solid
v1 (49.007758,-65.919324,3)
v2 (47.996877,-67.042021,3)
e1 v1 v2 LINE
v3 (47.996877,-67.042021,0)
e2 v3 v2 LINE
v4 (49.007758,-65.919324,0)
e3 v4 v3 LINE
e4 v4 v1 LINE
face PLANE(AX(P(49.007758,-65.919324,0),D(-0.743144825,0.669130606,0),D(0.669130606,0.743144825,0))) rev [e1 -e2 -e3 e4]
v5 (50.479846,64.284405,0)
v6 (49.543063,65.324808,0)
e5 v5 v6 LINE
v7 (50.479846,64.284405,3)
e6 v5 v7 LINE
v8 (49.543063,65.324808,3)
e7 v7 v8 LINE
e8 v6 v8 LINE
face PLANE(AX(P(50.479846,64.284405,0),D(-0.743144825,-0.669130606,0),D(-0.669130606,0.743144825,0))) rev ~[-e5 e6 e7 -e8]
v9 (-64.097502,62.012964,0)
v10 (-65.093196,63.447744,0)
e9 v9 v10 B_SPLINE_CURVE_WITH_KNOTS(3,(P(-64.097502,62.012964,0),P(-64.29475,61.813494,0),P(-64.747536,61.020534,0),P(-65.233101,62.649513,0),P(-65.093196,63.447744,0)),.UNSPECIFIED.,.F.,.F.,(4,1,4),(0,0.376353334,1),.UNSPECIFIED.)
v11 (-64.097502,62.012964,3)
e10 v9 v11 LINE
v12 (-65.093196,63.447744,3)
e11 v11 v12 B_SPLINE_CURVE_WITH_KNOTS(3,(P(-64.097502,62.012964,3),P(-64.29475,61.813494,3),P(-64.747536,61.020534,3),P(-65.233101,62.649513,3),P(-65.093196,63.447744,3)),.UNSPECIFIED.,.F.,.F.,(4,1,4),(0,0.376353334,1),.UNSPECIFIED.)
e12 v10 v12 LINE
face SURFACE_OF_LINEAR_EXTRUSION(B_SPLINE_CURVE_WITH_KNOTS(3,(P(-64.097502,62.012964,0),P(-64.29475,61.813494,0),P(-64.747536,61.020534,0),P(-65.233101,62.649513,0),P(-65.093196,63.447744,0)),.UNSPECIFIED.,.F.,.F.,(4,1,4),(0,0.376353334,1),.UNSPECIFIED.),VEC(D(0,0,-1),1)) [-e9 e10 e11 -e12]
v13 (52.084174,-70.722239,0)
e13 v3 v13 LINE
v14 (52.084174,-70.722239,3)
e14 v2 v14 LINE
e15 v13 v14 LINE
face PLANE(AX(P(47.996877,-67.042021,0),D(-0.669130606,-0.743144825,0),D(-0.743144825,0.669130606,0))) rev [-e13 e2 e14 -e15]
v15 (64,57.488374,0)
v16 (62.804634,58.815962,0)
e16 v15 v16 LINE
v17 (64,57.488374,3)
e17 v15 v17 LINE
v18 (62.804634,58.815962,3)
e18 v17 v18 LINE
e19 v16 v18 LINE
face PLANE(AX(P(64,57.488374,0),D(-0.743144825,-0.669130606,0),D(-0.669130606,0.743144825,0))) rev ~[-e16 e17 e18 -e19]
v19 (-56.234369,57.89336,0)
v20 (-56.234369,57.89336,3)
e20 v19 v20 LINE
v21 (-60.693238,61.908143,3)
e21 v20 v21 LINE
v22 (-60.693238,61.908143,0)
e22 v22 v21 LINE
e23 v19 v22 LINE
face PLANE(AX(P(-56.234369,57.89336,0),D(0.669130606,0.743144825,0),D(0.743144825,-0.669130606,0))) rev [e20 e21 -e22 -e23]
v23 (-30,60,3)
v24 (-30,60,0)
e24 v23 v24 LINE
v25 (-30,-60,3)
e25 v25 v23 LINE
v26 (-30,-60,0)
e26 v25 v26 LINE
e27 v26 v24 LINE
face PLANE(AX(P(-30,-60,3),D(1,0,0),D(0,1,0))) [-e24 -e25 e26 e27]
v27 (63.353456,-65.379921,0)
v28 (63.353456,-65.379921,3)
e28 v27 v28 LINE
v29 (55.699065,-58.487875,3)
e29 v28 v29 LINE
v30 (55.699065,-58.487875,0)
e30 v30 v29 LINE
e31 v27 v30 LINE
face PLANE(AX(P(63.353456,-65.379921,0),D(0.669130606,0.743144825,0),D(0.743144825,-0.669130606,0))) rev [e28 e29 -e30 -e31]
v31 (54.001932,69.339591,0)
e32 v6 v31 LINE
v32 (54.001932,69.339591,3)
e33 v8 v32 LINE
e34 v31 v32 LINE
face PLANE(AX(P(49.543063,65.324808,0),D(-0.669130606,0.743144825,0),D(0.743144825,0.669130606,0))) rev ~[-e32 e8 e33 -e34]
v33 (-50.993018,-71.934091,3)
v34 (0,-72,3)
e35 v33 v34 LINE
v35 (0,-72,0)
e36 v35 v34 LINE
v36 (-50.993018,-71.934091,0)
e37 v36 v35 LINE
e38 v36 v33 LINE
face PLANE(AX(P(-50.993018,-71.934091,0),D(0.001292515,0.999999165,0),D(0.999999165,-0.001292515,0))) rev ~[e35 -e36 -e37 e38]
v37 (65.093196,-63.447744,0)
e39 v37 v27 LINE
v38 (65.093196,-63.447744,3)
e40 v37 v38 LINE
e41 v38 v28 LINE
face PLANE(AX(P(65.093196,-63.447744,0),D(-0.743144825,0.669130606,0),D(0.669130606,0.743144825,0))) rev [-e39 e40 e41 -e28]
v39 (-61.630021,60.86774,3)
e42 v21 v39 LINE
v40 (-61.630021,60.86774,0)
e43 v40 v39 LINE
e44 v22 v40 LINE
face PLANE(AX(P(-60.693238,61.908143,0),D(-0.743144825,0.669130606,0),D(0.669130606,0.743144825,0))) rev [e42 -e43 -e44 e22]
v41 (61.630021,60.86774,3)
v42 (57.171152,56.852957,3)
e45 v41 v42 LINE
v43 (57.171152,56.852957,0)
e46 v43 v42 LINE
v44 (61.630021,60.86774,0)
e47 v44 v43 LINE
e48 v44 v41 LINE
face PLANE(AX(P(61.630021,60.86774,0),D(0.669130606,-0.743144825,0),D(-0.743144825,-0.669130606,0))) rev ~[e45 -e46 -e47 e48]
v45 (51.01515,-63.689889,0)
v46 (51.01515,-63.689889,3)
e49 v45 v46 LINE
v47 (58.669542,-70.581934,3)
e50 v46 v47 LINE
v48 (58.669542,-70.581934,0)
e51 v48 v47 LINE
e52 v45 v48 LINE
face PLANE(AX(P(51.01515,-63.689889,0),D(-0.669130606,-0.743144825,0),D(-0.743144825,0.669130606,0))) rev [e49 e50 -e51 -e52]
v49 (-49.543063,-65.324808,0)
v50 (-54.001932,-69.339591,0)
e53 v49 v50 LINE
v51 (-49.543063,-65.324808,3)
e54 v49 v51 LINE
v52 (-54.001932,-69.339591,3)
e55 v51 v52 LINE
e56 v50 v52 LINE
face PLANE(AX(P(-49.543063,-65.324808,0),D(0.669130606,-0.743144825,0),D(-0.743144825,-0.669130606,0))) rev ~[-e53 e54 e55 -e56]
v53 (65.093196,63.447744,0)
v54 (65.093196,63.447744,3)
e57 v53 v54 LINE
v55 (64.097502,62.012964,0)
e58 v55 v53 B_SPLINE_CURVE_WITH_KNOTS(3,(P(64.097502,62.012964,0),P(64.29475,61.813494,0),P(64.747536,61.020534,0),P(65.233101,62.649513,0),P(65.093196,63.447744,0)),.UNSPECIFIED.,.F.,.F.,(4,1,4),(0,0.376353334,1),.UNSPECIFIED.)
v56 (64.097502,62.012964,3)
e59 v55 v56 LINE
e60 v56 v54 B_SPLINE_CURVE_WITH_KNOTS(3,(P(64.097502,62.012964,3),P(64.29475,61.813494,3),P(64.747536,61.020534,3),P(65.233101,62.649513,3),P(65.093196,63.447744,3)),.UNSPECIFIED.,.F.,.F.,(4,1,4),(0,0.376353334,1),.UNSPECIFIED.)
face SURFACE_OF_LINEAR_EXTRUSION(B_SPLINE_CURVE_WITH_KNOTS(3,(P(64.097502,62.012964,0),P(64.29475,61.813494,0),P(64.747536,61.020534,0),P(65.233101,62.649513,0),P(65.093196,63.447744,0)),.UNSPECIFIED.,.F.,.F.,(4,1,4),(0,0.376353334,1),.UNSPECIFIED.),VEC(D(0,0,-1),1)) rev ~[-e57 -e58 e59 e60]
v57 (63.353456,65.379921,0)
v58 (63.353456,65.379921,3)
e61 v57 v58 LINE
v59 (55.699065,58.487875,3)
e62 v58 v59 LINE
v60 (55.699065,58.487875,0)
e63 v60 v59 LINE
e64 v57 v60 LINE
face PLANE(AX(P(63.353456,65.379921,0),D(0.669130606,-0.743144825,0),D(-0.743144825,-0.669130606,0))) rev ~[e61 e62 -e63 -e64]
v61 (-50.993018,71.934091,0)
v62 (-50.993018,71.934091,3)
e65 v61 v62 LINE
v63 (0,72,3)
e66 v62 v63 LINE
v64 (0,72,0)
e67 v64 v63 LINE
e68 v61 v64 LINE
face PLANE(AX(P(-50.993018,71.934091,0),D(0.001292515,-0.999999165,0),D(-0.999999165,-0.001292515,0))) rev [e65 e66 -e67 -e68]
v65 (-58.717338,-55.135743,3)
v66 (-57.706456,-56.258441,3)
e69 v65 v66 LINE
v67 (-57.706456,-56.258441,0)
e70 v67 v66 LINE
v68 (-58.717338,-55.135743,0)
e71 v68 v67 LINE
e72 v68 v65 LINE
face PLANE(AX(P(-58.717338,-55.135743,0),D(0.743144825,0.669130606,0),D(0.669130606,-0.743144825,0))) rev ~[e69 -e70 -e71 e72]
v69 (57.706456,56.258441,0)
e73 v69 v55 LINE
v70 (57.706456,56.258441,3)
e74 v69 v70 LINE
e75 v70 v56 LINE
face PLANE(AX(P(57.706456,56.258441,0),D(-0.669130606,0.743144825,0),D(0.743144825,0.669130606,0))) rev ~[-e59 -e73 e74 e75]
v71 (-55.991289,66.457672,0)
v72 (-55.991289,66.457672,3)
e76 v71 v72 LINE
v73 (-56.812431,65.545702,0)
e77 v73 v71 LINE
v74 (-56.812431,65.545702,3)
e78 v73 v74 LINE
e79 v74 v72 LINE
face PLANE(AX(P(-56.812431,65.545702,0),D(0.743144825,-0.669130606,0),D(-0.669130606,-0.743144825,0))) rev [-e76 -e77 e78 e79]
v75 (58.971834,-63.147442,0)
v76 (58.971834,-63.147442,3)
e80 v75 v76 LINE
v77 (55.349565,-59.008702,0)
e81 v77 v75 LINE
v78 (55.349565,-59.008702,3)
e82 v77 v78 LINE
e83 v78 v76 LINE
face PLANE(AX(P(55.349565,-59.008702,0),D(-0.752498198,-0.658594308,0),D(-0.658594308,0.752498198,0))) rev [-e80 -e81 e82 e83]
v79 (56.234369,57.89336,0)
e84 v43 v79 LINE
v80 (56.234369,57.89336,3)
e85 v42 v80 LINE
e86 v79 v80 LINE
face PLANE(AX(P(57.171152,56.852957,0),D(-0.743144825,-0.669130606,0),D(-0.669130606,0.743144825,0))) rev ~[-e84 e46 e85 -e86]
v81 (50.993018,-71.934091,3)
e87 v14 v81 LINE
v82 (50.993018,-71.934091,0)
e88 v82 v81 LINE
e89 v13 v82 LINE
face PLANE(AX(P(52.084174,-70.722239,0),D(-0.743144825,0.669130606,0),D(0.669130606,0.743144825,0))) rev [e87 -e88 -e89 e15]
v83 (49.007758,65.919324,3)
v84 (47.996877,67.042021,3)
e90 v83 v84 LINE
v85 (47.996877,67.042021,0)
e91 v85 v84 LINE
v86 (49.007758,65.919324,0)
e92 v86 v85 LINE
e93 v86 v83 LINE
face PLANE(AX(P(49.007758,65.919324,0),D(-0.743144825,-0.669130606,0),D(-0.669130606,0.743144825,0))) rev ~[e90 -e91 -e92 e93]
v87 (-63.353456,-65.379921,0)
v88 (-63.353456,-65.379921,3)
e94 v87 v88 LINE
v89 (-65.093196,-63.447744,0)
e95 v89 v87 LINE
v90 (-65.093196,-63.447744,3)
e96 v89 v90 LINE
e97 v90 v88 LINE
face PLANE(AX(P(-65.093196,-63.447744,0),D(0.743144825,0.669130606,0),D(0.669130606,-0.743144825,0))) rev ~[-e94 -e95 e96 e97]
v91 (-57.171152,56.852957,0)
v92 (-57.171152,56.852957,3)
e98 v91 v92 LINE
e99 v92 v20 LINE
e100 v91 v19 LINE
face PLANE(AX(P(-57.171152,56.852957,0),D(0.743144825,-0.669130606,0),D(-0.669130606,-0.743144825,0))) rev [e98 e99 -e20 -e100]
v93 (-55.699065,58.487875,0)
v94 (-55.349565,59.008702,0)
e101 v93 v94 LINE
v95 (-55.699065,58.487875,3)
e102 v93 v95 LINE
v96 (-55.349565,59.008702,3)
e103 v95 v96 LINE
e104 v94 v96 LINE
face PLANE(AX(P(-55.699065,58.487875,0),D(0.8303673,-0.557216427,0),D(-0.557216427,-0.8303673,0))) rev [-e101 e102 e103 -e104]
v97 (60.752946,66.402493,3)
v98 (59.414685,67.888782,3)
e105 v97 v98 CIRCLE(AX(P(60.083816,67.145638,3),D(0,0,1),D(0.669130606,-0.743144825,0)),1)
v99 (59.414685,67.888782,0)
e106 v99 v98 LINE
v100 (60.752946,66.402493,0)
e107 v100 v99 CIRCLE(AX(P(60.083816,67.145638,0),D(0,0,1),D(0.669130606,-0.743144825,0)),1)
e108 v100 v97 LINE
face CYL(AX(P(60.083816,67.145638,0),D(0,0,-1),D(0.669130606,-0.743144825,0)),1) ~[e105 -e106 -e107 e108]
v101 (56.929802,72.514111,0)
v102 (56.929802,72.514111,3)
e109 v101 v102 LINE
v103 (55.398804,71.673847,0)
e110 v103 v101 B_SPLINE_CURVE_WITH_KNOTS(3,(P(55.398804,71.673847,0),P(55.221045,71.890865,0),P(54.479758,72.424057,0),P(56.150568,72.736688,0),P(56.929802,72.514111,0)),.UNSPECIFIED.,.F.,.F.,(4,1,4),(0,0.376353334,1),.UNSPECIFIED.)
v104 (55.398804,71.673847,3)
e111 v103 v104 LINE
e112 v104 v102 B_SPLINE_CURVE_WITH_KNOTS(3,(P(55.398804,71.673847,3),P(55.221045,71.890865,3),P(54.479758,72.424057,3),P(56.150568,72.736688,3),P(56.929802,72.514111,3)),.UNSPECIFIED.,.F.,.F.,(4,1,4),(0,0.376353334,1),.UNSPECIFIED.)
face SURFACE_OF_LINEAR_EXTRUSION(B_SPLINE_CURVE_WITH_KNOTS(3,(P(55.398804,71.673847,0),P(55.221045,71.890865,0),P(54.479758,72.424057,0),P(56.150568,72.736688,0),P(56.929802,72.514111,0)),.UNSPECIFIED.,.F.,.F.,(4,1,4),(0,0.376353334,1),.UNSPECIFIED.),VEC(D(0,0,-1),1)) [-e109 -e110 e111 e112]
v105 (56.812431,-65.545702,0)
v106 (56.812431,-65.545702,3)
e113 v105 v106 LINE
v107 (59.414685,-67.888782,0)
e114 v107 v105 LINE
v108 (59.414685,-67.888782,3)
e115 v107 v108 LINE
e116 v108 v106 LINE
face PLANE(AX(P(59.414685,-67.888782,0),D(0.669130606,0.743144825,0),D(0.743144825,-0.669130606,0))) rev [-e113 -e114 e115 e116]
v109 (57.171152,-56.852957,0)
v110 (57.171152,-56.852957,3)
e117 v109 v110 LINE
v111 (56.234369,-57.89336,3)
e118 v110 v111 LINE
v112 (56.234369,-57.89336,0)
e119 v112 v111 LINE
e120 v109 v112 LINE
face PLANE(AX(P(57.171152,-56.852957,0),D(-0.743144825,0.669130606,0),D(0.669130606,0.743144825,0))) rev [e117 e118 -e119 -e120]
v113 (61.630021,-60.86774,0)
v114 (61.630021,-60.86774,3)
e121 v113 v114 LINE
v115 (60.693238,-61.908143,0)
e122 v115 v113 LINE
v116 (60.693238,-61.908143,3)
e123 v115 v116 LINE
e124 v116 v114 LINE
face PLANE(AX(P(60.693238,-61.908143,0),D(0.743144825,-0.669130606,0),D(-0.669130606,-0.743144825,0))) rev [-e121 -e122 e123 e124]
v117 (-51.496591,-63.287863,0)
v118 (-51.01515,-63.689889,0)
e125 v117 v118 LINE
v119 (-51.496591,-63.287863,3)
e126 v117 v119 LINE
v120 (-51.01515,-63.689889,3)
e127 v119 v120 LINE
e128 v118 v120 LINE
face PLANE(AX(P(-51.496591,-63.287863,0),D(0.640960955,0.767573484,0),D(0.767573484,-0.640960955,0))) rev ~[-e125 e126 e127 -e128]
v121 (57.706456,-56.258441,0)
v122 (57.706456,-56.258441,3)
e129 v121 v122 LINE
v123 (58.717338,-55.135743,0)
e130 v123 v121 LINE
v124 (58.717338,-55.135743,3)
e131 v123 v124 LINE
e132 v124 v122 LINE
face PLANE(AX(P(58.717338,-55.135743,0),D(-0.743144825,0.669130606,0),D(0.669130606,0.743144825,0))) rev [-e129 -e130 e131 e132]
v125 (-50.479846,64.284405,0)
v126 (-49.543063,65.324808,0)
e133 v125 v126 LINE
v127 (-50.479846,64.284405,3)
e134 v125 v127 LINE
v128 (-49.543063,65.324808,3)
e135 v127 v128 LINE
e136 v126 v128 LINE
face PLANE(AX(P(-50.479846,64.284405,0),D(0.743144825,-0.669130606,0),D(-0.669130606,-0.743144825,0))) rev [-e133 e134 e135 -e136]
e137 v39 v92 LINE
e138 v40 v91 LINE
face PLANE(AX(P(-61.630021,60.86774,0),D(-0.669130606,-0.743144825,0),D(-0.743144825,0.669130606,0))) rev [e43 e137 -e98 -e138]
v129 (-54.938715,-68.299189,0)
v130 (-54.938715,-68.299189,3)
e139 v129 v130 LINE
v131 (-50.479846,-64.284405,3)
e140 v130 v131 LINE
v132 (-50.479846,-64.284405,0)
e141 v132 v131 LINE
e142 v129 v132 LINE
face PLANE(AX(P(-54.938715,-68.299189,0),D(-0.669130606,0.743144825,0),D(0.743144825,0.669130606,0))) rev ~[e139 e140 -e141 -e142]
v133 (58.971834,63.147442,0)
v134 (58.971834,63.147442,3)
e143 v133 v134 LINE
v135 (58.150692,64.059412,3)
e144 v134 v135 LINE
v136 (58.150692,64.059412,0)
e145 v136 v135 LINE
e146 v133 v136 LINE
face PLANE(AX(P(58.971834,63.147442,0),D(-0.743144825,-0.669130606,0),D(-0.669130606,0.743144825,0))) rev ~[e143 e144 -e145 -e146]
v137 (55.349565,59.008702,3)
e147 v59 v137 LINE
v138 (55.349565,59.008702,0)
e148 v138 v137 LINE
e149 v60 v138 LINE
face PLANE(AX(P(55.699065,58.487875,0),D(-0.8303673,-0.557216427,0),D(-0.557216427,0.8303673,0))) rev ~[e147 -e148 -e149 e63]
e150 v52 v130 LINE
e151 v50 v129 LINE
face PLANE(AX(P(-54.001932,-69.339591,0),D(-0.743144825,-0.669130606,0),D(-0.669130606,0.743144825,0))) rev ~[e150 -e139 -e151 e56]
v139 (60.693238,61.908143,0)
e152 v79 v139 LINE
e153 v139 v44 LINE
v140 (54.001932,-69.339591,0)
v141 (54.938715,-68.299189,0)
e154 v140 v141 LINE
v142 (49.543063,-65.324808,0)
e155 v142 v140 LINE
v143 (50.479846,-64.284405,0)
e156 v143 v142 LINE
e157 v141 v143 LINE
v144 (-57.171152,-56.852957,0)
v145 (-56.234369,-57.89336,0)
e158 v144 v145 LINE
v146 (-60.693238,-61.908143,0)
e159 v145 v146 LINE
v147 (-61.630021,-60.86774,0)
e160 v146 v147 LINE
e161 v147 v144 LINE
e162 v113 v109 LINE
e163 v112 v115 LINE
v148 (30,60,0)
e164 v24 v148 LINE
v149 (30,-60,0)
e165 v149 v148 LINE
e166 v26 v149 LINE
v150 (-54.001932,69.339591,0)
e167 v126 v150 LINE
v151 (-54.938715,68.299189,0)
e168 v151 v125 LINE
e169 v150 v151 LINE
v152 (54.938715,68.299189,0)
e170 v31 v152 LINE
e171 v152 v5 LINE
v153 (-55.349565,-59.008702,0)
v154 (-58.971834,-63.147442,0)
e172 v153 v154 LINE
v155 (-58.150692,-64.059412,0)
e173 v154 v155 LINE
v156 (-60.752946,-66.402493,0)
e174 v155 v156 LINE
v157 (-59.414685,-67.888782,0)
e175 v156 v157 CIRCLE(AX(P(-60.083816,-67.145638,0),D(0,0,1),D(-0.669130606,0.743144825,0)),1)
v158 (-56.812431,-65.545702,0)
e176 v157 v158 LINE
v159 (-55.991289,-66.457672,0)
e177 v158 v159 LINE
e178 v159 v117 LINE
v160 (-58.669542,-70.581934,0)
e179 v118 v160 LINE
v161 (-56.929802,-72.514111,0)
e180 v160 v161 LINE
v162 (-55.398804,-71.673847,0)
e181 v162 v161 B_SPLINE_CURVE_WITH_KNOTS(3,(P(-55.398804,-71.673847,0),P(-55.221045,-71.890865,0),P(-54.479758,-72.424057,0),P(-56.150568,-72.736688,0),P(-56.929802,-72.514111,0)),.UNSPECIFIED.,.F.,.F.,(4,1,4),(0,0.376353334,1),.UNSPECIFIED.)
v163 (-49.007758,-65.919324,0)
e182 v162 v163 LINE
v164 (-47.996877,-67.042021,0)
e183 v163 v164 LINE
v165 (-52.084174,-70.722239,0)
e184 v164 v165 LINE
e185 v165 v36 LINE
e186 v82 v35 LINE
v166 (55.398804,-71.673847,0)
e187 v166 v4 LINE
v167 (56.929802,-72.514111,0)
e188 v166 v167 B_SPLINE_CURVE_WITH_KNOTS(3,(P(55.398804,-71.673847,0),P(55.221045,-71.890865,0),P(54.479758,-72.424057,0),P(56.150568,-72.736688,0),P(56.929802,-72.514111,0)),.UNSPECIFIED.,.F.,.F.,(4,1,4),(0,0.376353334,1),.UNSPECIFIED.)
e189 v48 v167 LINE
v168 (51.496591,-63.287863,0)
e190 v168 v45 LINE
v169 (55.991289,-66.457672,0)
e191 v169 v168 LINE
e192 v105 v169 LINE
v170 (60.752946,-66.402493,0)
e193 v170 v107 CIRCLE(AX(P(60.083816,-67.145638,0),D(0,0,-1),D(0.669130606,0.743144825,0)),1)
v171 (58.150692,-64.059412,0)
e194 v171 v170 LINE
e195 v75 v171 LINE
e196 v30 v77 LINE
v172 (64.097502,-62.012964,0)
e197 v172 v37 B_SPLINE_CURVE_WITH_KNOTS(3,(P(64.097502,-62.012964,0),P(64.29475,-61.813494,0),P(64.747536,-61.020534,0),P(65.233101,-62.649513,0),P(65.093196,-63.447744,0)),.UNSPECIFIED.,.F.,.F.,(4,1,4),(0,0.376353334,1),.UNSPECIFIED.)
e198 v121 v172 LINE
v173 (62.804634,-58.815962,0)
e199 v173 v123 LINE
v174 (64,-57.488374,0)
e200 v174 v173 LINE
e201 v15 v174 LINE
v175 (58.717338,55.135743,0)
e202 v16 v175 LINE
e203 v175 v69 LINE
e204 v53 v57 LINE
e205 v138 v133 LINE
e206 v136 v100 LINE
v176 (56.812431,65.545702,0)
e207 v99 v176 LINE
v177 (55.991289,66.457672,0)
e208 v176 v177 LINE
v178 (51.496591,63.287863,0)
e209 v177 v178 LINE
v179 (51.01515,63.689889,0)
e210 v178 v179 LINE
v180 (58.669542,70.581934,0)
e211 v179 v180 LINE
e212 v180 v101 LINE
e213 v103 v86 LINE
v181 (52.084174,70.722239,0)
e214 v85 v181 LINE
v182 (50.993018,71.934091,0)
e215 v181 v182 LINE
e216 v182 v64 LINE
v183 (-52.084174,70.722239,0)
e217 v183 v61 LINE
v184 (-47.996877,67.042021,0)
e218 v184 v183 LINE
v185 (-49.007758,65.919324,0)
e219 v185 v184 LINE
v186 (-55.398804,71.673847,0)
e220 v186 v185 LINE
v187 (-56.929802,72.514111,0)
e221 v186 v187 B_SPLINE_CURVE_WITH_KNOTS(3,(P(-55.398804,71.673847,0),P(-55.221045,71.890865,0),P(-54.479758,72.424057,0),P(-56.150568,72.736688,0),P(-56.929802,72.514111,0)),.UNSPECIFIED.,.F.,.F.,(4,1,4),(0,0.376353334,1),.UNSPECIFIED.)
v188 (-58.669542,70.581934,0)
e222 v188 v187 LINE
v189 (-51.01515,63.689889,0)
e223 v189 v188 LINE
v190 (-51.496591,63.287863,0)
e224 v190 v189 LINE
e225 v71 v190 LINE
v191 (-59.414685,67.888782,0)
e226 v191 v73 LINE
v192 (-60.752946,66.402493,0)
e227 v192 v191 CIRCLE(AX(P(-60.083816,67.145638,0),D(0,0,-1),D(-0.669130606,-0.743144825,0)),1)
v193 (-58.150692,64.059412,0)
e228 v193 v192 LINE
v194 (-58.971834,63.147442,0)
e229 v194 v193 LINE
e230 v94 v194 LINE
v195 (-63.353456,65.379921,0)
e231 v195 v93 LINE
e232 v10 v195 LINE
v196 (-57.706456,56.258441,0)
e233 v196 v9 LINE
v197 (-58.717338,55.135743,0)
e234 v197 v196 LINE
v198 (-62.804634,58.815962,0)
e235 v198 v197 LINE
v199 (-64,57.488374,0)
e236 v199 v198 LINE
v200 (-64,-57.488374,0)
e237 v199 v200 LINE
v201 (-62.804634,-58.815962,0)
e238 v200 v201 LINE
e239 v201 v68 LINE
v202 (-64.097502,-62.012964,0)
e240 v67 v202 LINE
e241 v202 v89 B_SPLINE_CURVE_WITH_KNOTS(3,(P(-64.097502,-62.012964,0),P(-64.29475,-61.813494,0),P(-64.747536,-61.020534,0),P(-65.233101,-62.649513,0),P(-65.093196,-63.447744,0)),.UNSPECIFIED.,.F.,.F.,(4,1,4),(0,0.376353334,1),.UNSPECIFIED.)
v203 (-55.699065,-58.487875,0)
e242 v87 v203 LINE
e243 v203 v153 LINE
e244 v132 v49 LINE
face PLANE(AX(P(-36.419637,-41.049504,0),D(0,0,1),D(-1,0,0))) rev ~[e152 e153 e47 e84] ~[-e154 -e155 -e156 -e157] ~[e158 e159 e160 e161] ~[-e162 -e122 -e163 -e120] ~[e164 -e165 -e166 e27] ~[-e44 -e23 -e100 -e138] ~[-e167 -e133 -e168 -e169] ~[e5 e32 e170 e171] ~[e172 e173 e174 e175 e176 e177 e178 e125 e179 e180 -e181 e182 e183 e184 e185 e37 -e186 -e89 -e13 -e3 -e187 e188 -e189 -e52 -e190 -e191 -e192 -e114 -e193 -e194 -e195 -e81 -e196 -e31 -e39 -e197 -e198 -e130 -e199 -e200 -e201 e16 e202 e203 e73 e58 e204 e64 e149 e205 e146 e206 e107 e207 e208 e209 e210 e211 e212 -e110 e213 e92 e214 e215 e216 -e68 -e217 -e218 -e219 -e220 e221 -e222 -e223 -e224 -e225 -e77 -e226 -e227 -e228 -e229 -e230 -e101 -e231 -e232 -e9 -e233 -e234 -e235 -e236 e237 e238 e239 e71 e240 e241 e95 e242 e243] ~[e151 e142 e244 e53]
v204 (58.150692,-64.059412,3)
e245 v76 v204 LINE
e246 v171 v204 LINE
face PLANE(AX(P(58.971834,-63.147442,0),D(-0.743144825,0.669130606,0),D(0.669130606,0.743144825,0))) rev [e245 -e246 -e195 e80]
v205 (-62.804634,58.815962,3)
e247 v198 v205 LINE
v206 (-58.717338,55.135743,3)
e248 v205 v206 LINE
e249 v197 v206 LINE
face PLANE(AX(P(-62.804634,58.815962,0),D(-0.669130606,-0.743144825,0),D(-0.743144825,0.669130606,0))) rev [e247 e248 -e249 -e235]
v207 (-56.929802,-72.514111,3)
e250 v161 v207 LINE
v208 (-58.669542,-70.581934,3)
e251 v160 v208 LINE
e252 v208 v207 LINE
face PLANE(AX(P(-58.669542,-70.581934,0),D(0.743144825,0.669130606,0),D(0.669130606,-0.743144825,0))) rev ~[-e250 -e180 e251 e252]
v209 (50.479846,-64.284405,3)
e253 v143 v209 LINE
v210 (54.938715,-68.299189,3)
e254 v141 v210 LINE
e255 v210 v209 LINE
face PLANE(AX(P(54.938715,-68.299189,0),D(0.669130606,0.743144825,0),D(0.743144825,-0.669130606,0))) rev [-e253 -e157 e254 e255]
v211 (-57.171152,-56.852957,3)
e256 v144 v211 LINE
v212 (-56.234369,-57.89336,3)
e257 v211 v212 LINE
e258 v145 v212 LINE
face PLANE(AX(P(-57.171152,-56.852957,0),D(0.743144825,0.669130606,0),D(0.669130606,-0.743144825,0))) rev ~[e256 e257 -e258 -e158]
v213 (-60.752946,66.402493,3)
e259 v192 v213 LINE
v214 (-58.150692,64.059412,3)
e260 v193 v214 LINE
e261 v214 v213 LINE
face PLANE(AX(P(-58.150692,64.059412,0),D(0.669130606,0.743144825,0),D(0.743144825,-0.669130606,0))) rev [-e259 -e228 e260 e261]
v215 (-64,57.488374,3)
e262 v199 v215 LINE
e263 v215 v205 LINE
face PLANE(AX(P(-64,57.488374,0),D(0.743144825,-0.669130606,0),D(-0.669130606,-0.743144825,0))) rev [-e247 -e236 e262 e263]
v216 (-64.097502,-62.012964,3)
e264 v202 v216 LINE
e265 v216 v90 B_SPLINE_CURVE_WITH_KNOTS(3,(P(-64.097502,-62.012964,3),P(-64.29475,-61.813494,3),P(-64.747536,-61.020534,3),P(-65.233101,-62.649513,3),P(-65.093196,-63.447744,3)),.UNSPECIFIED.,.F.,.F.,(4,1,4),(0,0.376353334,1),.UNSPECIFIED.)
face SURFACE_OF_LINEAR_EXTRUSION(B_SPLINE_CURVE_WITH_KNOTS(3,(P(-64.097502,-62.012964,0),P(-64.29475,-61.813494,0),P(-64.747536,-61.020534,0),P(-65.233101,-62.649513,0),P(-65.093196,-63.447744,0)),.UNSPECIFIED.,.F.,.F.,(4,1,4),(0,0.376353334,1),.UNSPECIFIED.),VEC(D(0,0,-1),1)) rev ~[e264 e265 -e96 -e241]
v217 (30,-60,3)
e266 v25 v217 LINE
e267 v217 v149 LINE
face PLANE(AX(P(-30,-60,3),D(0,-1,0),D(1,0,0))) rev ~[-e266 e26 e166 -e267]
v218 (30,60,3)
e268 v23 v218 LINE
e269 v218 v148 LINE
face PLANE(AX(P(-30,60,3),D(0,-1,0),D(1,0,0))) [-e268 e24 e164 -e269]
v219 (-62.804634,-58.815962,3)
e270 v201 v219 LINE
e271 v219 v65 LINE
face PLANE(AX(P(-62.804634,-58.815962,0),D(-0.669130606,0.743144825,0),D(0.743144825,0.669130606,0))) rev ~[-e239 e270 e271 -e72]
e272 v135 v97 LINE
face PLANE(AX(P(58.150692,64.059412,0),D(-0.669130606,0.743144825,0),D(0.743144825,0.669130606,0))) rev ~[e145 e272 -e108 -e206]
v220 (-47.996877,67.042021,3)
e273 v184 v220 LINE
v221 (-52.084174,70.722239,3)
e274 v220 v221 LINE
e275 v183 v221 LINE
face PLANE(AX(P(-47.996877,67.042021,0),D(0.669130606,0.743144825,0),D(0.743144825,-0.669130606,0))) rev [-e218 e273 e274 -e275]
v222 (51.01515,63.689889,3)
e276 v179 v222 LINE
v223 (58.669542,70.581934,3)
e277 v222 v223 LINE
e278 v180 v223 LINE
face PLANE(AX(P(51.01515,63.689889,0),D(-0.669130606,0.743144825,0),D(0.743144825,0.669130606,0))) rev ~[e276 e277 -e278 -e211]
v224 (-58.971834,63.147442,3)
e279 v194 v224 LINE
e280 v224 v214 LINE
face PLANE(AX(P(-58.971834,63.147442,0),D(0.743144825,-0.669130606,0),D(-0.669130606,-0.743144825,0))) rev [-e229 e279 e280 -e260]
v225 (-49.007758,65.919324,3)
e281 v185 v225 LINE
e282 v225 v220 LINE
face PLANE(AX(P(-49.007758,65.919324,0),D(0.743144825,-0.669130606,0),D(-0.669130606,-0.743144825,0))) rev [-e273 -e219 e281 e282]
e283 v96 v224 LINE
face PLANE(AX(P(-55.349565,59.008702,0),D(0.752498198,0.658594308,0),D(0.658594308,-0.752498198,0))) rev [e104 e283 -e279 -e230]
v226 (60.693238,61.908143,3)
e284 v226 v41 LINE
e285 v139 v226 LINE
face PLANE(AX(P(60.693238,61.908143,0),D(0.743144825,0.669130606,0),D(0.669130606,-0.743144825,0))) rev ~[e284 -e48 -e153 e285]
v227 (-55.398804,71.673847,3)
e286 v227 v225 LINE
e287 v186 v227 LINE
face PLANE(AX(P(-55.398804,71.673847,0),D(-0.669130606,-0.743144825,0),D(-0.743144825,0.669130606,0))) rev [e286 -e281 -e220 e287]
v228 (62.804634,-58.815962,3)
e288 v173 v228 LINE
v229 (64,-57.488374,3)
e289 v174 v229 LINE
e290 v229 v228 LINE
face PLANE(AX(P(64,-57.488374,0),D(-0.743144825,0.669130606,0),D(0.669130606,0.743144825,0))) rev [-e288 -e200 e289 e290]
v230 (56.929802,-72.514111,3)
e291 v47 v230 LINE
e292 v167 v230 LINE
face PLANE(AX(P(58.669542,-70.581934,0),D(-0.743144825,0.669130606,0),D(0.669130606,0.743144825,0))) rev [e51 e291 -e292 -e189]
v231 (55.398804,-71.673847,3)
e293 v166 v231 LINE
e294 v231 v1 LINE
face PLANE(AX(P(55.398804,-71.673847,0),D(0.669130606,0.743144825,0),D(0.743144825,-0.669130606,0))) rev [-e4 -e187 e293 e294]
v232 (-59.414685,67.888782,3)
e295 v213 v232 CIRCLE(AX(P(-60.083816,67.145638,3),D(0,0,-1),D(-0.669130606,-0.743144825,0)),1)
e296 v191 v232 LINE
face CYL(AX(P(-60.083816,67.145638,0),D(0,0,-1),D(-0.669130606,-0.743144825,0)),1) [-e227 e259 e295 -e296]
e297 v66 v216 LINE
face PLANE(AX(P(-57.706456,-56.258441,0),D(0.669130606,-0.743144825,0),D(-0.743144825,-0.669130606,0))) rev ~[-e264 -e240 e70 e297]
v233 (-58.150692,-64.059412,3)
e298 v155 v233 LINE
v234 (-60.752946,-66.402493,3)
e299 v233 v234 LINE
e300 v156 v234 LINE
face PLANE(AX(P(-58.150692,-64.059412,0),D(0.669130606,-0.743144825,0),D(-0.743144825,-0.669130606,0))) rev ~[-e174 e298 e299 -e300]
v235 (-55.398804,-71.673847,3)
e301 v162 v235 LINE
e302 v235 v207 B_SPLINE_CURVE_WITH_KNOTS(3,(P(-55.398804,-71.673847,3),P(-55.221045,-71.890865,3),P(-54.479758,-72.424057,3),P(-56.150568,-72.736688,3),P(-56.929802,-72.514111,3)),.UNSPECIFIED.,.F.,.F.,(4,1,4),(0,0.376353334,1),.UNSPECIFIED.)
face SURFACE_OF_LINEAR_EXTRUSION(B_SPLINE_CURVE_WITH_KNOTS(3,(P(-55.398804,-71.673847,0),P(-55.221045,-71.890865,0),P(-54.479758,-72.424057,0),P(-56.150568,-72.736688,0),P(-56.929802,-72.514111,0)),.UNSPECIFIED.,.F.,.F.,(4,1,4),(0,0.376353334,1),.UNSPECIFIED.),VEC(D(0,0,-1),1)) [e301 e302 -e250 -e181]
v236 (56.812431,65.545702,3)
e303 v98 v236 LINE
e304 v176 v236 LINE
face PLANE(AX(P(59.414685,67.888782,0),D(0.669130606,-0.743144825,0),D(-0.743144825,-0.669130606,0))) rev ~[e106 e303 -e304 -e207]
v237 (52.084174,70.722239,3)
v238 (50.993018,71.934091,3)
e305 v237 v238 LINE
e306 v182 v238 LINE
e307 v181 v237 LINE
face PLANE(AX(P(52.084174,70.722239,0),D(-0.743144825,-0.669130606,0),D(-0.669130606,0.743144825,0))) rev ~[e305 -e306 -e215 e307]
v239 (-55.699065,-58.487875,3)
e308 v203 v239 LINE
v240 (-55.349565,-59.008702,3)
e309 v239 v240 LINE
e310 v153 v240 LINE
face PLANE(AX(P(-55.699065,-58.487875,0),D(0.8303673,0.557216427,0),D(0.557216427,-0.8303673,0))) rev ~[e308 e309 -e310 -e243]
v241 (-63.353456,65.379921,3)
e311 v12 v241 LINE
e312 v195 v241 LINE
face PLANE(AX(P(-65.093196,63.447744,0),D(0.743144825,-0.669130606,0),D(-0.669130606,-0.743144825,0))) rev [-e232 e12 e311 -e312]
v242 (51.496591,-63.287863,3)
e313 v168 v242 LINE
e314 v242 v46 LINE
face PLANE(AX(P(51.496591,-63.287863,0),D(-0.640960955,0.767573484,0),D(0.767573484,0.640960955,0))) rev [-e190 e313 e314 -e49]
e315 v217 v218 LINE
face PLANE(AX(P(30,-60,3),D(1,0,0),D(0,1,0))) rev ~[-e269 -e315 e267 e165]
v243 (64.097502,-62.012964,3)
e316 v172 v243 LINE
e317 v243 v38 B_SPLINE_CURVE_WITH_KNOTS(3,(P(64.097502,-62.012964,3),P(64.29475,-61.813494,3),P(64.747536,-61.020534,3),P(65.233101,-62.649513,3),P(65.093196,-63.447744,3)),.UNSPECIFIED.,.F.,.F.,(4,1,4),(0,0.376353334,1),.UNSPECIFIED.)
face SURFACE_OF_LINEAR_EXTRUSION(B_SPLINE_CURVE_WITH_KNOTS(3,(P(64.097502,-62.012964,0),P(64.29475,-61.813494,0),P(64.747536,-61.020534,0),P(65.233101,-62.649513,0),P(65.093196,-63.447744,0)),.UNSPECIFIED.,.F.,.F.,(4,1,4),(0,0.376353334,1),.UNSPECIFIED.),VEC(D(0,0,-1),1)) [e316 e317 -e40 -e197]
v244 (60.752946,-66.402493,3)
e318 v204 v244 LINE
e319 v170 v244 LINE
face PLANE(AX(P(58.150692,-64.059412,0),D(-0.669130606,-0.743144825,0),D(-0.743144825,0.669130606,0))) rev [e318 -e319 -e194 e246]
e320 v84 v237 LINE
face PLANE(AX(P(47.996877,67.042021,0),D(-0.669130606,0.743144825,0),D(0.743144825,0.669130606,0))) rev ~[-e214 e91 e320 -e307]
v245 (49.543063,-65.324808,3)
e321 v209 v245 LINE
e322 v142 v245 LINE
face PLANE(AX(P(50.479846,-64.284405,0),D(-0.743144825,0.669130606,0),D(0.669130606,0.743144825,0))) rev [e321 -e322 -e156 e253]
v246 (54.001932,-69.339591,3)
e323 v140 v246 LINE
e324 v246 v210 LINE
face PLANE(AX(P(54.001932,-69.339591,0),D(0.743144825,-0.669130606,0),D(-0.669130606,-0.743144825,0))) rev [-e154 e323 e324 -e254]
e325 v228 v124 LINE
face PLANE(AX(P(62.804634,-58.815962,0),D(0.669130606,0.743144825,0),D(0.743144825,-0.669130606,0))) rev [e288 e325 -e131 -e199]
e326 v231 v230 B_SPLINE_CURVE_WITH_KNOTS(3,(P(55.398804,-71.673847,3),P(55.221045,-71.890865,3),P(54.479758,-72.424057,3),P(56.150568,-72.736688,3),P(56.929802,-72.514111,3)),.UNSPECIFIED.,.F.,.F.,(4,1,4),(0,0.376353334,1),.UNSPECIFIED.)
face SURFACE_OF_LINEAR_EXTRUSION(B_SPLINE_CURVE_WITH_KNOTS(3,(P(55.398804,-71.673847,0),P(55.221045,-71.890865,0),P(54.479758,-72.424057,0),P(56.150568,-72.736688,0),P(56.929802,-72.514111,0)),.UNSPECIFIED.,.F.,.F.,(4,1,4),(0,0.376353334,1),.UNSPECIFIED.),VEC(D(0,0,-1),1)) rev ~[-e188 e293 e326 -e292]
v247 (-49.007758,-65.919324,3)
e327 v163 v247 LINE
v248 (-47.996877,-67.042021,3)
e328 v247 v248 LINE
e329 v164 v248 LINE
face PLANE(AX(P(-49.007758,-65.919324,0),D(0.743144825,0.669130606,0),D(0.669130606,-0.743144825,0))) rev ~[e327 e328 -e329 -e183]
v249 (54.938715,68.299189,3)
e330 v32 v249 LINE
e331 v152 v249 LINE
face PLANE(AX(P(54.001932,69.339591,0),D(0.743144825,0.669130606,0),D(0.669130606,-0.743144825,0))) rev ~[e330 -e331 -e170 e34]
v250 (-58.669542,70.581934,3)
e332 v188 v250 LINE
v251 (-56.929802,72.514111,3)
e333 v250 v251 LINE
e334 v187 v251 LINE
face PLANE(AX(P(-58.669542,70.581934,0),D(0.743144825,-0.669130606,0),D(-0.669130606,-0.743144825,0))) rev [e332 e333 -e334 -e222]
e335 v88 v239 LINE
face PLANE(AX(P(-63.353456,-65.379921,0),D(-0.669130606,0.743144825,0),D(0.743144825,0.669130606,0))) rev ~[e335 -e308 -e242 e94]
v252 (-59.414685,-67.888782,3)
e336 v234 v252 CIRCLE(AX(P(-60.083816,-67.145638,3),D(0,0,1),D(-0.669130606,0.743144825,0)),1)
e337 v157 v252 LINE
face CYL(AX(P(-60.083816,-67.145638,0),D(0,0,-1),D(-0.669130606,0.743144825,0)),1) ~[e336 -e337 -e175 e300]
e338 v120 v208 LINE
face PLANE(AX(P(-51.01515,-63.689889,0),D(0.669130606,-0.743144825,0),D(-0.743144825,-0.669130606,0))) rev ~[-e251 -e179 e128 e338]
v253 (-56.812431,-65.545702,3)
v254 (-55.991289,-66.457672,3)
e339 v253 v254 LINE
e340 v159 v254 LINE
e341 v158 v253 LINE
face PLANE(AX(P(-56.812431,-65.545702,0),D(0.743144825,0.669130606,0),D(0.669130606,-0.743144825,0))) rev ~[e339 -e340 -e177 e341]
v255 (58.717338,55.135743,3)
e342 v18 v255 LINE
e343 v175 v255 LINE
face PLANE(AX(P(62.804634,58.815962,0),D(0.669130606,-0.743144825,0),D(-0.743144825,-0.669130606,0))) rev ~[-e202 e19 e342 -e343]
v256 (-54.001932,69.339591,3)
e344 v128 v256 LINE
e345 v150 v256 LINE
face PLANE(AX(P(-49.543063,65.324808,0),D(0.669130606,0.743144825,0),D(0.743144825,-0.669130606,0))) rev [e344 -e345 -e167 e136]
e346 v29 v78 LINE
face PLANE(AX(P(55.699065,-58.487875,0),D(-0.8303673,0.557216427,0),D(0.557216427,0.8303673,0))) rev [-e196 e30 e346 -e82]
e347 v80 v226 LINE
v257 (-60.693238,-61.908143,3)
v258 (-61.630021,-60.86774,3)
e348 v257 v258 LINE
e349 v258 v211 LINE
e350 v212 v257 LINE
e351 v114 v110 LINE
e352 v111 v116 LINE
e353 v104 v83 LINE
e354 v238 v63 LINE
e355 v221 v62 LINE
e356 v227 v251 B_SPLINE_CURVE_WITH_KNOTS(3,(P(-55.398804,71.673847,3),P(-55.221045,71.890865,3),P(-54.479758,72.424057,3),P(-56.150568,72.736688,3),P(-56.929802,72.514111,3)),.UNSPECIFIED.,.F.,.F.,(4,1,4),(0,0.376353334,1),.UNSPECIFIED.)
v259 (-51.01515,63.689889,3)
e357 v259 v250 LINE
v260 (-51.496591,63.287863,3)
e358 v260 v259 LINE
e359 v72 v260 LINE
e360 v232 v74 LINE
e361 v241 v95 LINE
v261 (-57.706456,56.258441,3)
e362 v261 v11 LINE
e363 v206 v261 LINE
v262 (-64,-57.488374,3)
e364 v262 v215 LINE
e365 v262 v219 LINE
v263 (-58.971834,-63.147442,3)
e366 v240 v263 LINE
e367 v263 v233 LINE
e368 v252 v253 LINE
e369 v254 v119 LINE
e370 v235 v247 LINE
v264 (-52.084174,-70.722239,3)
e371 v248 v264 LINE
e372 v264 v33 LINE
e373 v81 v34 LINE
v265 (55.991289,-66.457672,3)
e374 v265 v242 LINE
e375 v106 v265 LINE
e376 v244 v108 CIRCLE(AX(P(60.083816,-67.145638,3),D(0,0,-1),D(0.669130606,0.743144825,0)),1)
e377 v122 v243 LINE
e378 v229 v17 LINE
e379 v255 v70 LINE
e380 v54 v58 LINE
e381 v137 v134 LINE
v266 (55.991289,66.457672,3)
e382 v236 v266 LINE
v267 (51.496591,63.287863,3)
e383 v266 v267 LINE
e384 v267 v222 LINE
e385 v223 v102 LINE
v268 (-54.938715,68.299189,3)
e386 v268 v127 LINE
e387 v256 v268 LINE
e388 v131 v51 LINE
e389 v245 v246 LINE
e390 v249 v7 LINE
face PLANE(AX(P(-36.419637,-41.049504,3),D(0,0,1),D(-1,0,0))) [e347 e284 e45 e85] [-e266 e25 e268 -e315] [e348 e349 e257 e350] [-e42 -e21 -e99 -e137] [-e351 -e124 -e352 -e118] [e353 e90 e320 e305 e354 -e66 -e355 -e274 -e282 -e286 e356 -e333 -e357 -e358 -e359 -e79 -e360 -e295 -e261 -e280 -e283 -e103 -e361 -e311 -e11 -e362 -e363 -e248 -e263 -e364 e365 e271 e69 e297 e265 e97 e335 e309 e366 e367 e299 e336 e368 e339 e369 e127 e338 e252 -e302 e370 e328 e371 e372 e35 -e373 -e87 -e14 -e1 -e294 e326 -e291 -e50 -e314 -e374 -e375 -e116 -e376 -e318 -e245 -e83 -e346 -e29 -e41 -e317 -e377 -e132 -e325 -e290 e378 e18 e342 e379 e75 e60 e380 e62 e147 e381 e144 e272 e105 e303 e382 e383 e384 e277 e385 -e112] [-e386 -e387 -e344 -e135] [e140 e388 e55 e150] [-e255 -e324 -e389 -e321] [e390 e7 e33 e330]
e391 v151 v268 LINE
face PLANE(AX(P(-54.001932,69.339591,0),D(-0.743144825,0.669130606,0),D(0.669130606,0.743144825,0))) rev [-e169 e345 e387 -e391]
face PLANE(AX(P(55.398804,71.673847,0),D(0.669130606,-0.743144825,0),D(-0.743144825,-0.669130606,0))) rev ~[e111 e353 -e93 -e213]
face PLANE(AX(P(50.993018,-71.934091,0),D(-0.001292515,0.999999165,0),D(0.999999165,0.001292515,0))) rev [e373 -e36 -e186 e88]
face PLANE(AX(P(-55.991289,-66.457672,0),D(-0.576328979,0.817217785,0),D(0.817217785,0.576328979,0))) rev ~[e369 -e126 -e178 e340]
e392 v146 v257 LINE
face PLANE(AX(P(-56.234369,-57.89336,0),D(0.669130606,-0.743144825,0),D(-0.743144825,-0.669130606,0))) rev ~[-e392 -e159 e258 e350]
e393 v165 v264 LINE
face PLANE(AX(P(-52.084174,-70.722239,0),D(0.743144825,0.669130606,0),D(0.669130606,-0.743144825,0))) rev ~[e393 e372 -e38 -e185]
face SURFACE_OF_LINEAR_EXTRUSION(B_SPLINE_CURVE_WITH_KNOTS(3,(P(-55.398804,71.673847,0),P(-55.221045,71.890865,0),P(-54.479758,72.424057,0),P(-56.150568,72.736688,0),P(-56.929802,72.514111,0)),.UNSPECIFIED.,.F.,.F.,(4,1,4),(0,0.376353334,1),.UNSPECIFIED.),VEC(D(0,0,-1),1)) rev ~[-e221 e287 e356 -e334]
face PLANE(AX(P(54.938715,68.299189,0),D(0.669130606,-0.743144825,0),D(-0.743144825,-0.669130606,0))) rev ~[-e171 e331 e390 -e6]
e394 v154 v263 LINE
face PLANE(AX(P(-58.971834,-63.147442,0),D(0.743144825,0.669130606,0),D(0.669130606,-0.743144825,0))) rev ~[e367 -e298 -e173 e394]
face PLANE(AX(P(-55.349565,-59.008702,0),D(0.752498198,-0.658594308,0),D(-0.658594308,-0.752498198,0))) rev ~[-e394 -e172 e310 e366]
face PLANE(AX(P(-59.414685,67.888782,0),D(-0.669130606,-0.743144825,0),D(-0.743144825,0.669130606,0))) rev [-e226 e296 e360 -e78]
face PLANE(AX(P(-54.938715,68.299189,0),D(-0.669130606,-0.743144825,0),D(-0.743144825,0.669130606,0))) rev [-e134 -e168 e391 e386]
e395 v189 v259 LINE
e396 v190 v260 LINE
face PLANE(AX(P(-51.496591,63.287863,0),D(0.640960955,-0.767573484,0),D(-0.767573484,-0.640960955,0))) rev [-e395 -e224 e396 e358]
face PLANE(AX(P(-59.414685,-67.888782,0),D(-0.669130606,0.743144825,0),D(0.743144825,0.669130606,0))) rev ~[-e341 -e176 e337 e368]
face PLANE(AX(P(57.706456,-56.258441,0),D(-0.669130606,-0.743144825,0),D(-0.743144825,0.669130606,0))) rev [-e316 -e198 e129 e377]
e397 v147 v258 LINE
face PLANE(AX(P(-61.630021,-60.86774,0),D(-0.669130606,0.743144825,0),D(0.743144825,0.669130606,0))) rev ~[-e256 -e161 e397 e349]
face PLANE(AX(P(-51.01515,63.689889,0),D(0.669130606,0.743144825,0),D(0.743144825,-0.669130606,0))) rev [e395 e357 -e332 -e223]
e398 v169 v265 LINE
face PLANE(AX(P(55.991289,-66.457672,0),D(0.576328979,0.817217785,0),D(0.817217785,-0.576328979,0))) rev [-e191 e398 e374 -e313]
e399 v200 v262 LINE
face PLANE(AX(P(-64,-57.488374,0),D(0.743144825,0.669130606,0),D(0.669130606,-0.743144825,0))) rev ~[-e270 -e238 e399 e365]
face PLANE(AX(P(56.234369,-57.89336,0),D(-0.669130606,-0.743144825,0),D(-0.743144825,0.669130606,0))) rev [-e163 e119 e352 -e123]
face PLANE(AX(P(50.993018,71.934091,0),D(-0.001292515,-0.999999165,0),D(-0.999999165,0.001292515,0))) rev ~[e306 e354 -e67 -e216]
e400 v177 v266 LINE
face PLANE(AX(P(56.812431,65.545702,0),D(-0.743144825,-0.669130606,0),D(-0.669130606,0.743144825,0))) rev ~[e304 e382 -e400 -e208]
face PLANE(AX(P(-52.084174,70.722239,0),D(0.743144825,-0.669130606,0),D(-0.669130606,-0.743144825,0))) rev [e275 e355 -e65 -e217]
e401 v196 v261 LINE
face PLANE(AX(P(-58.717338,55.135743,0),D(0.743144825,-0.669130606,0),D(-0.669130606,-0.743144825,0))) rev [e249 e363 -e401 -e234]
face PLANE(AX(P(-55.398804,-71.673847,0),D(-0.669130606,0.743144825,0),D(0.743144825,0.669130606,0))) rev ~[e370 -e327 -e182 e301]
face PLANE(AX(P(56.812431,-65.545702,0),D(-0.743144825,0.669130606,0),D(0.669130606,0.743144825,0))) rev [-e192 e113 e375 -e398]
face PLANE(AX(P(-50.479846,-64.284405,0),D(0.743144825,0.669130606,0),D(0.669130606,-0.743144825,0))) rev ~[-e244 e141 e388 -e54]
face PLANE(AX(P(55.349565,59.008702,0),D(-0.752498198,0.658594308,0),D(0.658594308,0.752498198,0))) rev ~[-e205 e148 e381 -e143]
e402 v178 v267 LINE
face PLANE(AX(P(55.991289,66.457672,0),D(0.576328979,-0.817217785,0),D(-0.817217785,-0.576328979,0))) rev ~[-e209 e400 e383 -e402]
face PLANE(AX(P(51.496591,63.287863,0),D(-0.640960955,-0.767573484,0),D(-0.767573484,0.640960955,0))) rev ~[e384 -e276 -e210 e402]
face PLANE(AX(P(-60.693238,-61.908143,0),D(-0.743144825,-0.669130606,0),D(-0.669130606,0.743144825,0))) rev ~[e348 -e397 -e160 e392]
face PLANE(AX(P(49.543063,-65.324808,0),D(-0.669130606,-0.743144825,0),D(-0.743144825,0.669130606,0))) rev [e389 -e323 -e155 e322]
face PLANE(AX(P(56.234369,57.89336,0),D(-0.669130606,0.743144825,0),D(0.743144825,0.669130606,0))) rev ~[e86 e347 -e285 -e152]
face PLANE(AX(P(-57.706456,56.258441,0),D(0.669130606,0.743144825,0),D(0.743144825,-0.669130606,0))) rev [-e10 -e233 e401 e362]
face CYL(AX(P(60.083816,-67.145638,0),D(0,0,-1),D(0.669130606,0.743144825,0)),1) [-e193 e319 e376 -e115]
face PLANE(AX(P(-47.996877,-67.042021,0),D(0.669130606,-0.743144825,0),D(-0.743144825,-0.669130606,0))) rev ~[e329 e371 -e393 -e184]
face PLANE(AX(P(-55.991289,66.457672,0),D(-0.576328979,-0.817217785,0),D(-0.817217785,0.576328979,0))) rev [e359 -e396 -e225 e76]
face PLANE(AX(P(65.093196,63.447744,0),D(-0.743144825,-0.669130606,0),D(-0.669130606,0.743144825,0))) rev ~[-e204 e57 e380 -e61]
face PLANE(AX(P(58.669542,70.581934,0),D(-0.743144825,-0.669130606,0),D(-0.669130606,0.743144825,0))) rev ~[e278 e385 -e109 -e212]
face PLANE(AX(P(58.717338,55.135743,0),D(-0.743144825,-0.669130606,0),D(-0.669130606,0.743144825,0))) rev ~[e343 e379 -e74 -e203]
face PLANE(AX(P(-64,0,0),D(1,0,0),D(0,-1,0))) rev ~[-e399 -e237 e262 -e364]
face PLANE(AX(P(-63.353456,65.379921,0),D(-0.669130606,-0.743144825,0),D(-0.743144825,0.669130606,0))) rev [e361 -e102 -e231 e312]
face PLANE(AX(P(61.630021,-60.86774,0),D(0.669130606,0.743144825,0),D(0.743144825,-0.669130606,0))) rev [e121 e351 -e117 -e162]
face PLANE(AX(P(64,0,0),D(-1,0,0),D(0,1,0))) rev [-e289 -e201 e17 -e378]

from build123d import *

# Parameters (mm, degrees)
F1_DEPTH = 3
F4_W     = 60
F4_H     = 120
F5_DEPTH = 3


with BuildPart() as f1:
    # F0 (on Top) → F1 (new body)
    with BuildSketch(Plane.XY):
        with BuildLine():
            Line((64, 0), (64, 57.4883735822))
            Line((64, 57.4883735822), (62.8046343071, 58.8159616805))
            Line((62.8046343071, 58.8159616805), (58.717337767, 55.1357433455))
            Line((58.717337767, 55.1357433455), (57.7064563618, 56.2584408851))
            Line((57.7064563618, 56.2584408851), (64.0975018609, 62.0129640998))
            add(Edge.make_bspline(
                [(64.0975018609, 62.0129640998), (64.2947499686, 61.8134944285), (64.7475356166, 61.0205339905), (65.2331012875, 62.6495131608), (65.0931958217, 63.4477440608)],
                knots=[0, 0, 0, 0, 0.3763533344, 1, 1, 1, 1], degree=3))
            Line((65.0931958217, 63.4477440608), (63.3534562452, 65.379920607))
            Line((63.3534562452, 65.379920607), (55.6990645427, 58.4878753615))
            Line((55.6990645427, 58.4878753615), (55.3495648702, 59.0087018934))
            Line((55.3495648702, 59.0087018934), (58.971833562, 63.1474419824))
            Line((58.971833562, 63.1474419824), (58.1506918082, 64.0594122905))
            Line((58.1506918082, 64.0594122905), (60.7529463893, 66.4024928396))
            ThreePointArc((60.7529463893, 66.4024928396), (60.8269606084, 67.8147682715), (59.4146851766, 67.8887824906))
            Line((59.4146851766, 67.8887824906), (56.8124305955, 65.5457019415))
            Line((56.8124305955, 65.5457019415), (55.9912888418, 66.4576722496))
            Line((55.9912888418, 66.4576722496), (51.4965910242, 63.2878628661))
            Line((51.4965910242, 63.2878628661), (51.0151502982, 63.6898891399))
            Line((51.0151502982, 63.6898891399), (58.6695420007, 70.5819343854))
            Line((58.6695420007, 70.5819343854), (56.9298024241, 72.5141109316))
            add(Edge.make_bspline(
                [(55.3988039783, 71.673846831), (55.2210450643, 71.8908646511), (54.4797575345, 72.424056828), (56.1505684198, 72.7366878299), (56.9298024241, 72.5141109316)],
                knots=[0, 0, 0, 0, 0.3763533344, 1, 1, 1, 1], degree=3))
            Line((55.3988039783, 71.673846831), (49.0077584792, 65.9193236163))
            Line((49.0077584792, 65.9193236163), (47.996877074, 67.0420211559))
            Line((47.996877074, 67.0420211559), (52.0841736141, 70.7222394909))
            Line((52.0841736141, 70.7222394909), (50.9930178895, 71.9340906943))
            Line((50.9930178895, 71.9340906943), (0, 72))
            Line((0, 72), (0, 0))
            Line((0, 0), (64, 0))
        make_face()
        Polygon((61.6300208296, 60.8677403836), (57.1711518767, 56.8529567455), (56.2343690278, 57.8933595012), (60.6932379807, 61.9081431393), align=None, mode=Mode.SUBTRACT)
        Polygon((50.4798458131, 64.2844050003), (49.5430629642, 65.3248077559), (54.0019319171, 69.3395913941), (54.938714766, 68.2991886384), align=None, mode=Mode.SUBTRACT)
    extrude(amount=F1_DEPTH)

    # F2: F1 across face


with BuildPart() as f1_1:
    add(f1.part)
    add(f1.part.mirror(Plane(origin=(0, 36, 1.5), x_dir=(0, -1, 0), z_dir=(-1, 0, 0))))

    # F3: F1 across face


with BuildPart() as f1_2:
    add(f1_1.part)
    add(f1_1.part.mirror(Plane(origin=(0, 0, 1.5), x_dir=(1, 0, 0), z_dir=(0, -1, 0))))

    # F4 (on face) → F5 (cut)
    with BuildSketch(Plane.XY.offset(3)):
        Rectangle(F4_W, F4_H)
    extrude(amount=-F5_DEPTH, mode=Mode.SUBTRACT)


solid = f1_2.part
